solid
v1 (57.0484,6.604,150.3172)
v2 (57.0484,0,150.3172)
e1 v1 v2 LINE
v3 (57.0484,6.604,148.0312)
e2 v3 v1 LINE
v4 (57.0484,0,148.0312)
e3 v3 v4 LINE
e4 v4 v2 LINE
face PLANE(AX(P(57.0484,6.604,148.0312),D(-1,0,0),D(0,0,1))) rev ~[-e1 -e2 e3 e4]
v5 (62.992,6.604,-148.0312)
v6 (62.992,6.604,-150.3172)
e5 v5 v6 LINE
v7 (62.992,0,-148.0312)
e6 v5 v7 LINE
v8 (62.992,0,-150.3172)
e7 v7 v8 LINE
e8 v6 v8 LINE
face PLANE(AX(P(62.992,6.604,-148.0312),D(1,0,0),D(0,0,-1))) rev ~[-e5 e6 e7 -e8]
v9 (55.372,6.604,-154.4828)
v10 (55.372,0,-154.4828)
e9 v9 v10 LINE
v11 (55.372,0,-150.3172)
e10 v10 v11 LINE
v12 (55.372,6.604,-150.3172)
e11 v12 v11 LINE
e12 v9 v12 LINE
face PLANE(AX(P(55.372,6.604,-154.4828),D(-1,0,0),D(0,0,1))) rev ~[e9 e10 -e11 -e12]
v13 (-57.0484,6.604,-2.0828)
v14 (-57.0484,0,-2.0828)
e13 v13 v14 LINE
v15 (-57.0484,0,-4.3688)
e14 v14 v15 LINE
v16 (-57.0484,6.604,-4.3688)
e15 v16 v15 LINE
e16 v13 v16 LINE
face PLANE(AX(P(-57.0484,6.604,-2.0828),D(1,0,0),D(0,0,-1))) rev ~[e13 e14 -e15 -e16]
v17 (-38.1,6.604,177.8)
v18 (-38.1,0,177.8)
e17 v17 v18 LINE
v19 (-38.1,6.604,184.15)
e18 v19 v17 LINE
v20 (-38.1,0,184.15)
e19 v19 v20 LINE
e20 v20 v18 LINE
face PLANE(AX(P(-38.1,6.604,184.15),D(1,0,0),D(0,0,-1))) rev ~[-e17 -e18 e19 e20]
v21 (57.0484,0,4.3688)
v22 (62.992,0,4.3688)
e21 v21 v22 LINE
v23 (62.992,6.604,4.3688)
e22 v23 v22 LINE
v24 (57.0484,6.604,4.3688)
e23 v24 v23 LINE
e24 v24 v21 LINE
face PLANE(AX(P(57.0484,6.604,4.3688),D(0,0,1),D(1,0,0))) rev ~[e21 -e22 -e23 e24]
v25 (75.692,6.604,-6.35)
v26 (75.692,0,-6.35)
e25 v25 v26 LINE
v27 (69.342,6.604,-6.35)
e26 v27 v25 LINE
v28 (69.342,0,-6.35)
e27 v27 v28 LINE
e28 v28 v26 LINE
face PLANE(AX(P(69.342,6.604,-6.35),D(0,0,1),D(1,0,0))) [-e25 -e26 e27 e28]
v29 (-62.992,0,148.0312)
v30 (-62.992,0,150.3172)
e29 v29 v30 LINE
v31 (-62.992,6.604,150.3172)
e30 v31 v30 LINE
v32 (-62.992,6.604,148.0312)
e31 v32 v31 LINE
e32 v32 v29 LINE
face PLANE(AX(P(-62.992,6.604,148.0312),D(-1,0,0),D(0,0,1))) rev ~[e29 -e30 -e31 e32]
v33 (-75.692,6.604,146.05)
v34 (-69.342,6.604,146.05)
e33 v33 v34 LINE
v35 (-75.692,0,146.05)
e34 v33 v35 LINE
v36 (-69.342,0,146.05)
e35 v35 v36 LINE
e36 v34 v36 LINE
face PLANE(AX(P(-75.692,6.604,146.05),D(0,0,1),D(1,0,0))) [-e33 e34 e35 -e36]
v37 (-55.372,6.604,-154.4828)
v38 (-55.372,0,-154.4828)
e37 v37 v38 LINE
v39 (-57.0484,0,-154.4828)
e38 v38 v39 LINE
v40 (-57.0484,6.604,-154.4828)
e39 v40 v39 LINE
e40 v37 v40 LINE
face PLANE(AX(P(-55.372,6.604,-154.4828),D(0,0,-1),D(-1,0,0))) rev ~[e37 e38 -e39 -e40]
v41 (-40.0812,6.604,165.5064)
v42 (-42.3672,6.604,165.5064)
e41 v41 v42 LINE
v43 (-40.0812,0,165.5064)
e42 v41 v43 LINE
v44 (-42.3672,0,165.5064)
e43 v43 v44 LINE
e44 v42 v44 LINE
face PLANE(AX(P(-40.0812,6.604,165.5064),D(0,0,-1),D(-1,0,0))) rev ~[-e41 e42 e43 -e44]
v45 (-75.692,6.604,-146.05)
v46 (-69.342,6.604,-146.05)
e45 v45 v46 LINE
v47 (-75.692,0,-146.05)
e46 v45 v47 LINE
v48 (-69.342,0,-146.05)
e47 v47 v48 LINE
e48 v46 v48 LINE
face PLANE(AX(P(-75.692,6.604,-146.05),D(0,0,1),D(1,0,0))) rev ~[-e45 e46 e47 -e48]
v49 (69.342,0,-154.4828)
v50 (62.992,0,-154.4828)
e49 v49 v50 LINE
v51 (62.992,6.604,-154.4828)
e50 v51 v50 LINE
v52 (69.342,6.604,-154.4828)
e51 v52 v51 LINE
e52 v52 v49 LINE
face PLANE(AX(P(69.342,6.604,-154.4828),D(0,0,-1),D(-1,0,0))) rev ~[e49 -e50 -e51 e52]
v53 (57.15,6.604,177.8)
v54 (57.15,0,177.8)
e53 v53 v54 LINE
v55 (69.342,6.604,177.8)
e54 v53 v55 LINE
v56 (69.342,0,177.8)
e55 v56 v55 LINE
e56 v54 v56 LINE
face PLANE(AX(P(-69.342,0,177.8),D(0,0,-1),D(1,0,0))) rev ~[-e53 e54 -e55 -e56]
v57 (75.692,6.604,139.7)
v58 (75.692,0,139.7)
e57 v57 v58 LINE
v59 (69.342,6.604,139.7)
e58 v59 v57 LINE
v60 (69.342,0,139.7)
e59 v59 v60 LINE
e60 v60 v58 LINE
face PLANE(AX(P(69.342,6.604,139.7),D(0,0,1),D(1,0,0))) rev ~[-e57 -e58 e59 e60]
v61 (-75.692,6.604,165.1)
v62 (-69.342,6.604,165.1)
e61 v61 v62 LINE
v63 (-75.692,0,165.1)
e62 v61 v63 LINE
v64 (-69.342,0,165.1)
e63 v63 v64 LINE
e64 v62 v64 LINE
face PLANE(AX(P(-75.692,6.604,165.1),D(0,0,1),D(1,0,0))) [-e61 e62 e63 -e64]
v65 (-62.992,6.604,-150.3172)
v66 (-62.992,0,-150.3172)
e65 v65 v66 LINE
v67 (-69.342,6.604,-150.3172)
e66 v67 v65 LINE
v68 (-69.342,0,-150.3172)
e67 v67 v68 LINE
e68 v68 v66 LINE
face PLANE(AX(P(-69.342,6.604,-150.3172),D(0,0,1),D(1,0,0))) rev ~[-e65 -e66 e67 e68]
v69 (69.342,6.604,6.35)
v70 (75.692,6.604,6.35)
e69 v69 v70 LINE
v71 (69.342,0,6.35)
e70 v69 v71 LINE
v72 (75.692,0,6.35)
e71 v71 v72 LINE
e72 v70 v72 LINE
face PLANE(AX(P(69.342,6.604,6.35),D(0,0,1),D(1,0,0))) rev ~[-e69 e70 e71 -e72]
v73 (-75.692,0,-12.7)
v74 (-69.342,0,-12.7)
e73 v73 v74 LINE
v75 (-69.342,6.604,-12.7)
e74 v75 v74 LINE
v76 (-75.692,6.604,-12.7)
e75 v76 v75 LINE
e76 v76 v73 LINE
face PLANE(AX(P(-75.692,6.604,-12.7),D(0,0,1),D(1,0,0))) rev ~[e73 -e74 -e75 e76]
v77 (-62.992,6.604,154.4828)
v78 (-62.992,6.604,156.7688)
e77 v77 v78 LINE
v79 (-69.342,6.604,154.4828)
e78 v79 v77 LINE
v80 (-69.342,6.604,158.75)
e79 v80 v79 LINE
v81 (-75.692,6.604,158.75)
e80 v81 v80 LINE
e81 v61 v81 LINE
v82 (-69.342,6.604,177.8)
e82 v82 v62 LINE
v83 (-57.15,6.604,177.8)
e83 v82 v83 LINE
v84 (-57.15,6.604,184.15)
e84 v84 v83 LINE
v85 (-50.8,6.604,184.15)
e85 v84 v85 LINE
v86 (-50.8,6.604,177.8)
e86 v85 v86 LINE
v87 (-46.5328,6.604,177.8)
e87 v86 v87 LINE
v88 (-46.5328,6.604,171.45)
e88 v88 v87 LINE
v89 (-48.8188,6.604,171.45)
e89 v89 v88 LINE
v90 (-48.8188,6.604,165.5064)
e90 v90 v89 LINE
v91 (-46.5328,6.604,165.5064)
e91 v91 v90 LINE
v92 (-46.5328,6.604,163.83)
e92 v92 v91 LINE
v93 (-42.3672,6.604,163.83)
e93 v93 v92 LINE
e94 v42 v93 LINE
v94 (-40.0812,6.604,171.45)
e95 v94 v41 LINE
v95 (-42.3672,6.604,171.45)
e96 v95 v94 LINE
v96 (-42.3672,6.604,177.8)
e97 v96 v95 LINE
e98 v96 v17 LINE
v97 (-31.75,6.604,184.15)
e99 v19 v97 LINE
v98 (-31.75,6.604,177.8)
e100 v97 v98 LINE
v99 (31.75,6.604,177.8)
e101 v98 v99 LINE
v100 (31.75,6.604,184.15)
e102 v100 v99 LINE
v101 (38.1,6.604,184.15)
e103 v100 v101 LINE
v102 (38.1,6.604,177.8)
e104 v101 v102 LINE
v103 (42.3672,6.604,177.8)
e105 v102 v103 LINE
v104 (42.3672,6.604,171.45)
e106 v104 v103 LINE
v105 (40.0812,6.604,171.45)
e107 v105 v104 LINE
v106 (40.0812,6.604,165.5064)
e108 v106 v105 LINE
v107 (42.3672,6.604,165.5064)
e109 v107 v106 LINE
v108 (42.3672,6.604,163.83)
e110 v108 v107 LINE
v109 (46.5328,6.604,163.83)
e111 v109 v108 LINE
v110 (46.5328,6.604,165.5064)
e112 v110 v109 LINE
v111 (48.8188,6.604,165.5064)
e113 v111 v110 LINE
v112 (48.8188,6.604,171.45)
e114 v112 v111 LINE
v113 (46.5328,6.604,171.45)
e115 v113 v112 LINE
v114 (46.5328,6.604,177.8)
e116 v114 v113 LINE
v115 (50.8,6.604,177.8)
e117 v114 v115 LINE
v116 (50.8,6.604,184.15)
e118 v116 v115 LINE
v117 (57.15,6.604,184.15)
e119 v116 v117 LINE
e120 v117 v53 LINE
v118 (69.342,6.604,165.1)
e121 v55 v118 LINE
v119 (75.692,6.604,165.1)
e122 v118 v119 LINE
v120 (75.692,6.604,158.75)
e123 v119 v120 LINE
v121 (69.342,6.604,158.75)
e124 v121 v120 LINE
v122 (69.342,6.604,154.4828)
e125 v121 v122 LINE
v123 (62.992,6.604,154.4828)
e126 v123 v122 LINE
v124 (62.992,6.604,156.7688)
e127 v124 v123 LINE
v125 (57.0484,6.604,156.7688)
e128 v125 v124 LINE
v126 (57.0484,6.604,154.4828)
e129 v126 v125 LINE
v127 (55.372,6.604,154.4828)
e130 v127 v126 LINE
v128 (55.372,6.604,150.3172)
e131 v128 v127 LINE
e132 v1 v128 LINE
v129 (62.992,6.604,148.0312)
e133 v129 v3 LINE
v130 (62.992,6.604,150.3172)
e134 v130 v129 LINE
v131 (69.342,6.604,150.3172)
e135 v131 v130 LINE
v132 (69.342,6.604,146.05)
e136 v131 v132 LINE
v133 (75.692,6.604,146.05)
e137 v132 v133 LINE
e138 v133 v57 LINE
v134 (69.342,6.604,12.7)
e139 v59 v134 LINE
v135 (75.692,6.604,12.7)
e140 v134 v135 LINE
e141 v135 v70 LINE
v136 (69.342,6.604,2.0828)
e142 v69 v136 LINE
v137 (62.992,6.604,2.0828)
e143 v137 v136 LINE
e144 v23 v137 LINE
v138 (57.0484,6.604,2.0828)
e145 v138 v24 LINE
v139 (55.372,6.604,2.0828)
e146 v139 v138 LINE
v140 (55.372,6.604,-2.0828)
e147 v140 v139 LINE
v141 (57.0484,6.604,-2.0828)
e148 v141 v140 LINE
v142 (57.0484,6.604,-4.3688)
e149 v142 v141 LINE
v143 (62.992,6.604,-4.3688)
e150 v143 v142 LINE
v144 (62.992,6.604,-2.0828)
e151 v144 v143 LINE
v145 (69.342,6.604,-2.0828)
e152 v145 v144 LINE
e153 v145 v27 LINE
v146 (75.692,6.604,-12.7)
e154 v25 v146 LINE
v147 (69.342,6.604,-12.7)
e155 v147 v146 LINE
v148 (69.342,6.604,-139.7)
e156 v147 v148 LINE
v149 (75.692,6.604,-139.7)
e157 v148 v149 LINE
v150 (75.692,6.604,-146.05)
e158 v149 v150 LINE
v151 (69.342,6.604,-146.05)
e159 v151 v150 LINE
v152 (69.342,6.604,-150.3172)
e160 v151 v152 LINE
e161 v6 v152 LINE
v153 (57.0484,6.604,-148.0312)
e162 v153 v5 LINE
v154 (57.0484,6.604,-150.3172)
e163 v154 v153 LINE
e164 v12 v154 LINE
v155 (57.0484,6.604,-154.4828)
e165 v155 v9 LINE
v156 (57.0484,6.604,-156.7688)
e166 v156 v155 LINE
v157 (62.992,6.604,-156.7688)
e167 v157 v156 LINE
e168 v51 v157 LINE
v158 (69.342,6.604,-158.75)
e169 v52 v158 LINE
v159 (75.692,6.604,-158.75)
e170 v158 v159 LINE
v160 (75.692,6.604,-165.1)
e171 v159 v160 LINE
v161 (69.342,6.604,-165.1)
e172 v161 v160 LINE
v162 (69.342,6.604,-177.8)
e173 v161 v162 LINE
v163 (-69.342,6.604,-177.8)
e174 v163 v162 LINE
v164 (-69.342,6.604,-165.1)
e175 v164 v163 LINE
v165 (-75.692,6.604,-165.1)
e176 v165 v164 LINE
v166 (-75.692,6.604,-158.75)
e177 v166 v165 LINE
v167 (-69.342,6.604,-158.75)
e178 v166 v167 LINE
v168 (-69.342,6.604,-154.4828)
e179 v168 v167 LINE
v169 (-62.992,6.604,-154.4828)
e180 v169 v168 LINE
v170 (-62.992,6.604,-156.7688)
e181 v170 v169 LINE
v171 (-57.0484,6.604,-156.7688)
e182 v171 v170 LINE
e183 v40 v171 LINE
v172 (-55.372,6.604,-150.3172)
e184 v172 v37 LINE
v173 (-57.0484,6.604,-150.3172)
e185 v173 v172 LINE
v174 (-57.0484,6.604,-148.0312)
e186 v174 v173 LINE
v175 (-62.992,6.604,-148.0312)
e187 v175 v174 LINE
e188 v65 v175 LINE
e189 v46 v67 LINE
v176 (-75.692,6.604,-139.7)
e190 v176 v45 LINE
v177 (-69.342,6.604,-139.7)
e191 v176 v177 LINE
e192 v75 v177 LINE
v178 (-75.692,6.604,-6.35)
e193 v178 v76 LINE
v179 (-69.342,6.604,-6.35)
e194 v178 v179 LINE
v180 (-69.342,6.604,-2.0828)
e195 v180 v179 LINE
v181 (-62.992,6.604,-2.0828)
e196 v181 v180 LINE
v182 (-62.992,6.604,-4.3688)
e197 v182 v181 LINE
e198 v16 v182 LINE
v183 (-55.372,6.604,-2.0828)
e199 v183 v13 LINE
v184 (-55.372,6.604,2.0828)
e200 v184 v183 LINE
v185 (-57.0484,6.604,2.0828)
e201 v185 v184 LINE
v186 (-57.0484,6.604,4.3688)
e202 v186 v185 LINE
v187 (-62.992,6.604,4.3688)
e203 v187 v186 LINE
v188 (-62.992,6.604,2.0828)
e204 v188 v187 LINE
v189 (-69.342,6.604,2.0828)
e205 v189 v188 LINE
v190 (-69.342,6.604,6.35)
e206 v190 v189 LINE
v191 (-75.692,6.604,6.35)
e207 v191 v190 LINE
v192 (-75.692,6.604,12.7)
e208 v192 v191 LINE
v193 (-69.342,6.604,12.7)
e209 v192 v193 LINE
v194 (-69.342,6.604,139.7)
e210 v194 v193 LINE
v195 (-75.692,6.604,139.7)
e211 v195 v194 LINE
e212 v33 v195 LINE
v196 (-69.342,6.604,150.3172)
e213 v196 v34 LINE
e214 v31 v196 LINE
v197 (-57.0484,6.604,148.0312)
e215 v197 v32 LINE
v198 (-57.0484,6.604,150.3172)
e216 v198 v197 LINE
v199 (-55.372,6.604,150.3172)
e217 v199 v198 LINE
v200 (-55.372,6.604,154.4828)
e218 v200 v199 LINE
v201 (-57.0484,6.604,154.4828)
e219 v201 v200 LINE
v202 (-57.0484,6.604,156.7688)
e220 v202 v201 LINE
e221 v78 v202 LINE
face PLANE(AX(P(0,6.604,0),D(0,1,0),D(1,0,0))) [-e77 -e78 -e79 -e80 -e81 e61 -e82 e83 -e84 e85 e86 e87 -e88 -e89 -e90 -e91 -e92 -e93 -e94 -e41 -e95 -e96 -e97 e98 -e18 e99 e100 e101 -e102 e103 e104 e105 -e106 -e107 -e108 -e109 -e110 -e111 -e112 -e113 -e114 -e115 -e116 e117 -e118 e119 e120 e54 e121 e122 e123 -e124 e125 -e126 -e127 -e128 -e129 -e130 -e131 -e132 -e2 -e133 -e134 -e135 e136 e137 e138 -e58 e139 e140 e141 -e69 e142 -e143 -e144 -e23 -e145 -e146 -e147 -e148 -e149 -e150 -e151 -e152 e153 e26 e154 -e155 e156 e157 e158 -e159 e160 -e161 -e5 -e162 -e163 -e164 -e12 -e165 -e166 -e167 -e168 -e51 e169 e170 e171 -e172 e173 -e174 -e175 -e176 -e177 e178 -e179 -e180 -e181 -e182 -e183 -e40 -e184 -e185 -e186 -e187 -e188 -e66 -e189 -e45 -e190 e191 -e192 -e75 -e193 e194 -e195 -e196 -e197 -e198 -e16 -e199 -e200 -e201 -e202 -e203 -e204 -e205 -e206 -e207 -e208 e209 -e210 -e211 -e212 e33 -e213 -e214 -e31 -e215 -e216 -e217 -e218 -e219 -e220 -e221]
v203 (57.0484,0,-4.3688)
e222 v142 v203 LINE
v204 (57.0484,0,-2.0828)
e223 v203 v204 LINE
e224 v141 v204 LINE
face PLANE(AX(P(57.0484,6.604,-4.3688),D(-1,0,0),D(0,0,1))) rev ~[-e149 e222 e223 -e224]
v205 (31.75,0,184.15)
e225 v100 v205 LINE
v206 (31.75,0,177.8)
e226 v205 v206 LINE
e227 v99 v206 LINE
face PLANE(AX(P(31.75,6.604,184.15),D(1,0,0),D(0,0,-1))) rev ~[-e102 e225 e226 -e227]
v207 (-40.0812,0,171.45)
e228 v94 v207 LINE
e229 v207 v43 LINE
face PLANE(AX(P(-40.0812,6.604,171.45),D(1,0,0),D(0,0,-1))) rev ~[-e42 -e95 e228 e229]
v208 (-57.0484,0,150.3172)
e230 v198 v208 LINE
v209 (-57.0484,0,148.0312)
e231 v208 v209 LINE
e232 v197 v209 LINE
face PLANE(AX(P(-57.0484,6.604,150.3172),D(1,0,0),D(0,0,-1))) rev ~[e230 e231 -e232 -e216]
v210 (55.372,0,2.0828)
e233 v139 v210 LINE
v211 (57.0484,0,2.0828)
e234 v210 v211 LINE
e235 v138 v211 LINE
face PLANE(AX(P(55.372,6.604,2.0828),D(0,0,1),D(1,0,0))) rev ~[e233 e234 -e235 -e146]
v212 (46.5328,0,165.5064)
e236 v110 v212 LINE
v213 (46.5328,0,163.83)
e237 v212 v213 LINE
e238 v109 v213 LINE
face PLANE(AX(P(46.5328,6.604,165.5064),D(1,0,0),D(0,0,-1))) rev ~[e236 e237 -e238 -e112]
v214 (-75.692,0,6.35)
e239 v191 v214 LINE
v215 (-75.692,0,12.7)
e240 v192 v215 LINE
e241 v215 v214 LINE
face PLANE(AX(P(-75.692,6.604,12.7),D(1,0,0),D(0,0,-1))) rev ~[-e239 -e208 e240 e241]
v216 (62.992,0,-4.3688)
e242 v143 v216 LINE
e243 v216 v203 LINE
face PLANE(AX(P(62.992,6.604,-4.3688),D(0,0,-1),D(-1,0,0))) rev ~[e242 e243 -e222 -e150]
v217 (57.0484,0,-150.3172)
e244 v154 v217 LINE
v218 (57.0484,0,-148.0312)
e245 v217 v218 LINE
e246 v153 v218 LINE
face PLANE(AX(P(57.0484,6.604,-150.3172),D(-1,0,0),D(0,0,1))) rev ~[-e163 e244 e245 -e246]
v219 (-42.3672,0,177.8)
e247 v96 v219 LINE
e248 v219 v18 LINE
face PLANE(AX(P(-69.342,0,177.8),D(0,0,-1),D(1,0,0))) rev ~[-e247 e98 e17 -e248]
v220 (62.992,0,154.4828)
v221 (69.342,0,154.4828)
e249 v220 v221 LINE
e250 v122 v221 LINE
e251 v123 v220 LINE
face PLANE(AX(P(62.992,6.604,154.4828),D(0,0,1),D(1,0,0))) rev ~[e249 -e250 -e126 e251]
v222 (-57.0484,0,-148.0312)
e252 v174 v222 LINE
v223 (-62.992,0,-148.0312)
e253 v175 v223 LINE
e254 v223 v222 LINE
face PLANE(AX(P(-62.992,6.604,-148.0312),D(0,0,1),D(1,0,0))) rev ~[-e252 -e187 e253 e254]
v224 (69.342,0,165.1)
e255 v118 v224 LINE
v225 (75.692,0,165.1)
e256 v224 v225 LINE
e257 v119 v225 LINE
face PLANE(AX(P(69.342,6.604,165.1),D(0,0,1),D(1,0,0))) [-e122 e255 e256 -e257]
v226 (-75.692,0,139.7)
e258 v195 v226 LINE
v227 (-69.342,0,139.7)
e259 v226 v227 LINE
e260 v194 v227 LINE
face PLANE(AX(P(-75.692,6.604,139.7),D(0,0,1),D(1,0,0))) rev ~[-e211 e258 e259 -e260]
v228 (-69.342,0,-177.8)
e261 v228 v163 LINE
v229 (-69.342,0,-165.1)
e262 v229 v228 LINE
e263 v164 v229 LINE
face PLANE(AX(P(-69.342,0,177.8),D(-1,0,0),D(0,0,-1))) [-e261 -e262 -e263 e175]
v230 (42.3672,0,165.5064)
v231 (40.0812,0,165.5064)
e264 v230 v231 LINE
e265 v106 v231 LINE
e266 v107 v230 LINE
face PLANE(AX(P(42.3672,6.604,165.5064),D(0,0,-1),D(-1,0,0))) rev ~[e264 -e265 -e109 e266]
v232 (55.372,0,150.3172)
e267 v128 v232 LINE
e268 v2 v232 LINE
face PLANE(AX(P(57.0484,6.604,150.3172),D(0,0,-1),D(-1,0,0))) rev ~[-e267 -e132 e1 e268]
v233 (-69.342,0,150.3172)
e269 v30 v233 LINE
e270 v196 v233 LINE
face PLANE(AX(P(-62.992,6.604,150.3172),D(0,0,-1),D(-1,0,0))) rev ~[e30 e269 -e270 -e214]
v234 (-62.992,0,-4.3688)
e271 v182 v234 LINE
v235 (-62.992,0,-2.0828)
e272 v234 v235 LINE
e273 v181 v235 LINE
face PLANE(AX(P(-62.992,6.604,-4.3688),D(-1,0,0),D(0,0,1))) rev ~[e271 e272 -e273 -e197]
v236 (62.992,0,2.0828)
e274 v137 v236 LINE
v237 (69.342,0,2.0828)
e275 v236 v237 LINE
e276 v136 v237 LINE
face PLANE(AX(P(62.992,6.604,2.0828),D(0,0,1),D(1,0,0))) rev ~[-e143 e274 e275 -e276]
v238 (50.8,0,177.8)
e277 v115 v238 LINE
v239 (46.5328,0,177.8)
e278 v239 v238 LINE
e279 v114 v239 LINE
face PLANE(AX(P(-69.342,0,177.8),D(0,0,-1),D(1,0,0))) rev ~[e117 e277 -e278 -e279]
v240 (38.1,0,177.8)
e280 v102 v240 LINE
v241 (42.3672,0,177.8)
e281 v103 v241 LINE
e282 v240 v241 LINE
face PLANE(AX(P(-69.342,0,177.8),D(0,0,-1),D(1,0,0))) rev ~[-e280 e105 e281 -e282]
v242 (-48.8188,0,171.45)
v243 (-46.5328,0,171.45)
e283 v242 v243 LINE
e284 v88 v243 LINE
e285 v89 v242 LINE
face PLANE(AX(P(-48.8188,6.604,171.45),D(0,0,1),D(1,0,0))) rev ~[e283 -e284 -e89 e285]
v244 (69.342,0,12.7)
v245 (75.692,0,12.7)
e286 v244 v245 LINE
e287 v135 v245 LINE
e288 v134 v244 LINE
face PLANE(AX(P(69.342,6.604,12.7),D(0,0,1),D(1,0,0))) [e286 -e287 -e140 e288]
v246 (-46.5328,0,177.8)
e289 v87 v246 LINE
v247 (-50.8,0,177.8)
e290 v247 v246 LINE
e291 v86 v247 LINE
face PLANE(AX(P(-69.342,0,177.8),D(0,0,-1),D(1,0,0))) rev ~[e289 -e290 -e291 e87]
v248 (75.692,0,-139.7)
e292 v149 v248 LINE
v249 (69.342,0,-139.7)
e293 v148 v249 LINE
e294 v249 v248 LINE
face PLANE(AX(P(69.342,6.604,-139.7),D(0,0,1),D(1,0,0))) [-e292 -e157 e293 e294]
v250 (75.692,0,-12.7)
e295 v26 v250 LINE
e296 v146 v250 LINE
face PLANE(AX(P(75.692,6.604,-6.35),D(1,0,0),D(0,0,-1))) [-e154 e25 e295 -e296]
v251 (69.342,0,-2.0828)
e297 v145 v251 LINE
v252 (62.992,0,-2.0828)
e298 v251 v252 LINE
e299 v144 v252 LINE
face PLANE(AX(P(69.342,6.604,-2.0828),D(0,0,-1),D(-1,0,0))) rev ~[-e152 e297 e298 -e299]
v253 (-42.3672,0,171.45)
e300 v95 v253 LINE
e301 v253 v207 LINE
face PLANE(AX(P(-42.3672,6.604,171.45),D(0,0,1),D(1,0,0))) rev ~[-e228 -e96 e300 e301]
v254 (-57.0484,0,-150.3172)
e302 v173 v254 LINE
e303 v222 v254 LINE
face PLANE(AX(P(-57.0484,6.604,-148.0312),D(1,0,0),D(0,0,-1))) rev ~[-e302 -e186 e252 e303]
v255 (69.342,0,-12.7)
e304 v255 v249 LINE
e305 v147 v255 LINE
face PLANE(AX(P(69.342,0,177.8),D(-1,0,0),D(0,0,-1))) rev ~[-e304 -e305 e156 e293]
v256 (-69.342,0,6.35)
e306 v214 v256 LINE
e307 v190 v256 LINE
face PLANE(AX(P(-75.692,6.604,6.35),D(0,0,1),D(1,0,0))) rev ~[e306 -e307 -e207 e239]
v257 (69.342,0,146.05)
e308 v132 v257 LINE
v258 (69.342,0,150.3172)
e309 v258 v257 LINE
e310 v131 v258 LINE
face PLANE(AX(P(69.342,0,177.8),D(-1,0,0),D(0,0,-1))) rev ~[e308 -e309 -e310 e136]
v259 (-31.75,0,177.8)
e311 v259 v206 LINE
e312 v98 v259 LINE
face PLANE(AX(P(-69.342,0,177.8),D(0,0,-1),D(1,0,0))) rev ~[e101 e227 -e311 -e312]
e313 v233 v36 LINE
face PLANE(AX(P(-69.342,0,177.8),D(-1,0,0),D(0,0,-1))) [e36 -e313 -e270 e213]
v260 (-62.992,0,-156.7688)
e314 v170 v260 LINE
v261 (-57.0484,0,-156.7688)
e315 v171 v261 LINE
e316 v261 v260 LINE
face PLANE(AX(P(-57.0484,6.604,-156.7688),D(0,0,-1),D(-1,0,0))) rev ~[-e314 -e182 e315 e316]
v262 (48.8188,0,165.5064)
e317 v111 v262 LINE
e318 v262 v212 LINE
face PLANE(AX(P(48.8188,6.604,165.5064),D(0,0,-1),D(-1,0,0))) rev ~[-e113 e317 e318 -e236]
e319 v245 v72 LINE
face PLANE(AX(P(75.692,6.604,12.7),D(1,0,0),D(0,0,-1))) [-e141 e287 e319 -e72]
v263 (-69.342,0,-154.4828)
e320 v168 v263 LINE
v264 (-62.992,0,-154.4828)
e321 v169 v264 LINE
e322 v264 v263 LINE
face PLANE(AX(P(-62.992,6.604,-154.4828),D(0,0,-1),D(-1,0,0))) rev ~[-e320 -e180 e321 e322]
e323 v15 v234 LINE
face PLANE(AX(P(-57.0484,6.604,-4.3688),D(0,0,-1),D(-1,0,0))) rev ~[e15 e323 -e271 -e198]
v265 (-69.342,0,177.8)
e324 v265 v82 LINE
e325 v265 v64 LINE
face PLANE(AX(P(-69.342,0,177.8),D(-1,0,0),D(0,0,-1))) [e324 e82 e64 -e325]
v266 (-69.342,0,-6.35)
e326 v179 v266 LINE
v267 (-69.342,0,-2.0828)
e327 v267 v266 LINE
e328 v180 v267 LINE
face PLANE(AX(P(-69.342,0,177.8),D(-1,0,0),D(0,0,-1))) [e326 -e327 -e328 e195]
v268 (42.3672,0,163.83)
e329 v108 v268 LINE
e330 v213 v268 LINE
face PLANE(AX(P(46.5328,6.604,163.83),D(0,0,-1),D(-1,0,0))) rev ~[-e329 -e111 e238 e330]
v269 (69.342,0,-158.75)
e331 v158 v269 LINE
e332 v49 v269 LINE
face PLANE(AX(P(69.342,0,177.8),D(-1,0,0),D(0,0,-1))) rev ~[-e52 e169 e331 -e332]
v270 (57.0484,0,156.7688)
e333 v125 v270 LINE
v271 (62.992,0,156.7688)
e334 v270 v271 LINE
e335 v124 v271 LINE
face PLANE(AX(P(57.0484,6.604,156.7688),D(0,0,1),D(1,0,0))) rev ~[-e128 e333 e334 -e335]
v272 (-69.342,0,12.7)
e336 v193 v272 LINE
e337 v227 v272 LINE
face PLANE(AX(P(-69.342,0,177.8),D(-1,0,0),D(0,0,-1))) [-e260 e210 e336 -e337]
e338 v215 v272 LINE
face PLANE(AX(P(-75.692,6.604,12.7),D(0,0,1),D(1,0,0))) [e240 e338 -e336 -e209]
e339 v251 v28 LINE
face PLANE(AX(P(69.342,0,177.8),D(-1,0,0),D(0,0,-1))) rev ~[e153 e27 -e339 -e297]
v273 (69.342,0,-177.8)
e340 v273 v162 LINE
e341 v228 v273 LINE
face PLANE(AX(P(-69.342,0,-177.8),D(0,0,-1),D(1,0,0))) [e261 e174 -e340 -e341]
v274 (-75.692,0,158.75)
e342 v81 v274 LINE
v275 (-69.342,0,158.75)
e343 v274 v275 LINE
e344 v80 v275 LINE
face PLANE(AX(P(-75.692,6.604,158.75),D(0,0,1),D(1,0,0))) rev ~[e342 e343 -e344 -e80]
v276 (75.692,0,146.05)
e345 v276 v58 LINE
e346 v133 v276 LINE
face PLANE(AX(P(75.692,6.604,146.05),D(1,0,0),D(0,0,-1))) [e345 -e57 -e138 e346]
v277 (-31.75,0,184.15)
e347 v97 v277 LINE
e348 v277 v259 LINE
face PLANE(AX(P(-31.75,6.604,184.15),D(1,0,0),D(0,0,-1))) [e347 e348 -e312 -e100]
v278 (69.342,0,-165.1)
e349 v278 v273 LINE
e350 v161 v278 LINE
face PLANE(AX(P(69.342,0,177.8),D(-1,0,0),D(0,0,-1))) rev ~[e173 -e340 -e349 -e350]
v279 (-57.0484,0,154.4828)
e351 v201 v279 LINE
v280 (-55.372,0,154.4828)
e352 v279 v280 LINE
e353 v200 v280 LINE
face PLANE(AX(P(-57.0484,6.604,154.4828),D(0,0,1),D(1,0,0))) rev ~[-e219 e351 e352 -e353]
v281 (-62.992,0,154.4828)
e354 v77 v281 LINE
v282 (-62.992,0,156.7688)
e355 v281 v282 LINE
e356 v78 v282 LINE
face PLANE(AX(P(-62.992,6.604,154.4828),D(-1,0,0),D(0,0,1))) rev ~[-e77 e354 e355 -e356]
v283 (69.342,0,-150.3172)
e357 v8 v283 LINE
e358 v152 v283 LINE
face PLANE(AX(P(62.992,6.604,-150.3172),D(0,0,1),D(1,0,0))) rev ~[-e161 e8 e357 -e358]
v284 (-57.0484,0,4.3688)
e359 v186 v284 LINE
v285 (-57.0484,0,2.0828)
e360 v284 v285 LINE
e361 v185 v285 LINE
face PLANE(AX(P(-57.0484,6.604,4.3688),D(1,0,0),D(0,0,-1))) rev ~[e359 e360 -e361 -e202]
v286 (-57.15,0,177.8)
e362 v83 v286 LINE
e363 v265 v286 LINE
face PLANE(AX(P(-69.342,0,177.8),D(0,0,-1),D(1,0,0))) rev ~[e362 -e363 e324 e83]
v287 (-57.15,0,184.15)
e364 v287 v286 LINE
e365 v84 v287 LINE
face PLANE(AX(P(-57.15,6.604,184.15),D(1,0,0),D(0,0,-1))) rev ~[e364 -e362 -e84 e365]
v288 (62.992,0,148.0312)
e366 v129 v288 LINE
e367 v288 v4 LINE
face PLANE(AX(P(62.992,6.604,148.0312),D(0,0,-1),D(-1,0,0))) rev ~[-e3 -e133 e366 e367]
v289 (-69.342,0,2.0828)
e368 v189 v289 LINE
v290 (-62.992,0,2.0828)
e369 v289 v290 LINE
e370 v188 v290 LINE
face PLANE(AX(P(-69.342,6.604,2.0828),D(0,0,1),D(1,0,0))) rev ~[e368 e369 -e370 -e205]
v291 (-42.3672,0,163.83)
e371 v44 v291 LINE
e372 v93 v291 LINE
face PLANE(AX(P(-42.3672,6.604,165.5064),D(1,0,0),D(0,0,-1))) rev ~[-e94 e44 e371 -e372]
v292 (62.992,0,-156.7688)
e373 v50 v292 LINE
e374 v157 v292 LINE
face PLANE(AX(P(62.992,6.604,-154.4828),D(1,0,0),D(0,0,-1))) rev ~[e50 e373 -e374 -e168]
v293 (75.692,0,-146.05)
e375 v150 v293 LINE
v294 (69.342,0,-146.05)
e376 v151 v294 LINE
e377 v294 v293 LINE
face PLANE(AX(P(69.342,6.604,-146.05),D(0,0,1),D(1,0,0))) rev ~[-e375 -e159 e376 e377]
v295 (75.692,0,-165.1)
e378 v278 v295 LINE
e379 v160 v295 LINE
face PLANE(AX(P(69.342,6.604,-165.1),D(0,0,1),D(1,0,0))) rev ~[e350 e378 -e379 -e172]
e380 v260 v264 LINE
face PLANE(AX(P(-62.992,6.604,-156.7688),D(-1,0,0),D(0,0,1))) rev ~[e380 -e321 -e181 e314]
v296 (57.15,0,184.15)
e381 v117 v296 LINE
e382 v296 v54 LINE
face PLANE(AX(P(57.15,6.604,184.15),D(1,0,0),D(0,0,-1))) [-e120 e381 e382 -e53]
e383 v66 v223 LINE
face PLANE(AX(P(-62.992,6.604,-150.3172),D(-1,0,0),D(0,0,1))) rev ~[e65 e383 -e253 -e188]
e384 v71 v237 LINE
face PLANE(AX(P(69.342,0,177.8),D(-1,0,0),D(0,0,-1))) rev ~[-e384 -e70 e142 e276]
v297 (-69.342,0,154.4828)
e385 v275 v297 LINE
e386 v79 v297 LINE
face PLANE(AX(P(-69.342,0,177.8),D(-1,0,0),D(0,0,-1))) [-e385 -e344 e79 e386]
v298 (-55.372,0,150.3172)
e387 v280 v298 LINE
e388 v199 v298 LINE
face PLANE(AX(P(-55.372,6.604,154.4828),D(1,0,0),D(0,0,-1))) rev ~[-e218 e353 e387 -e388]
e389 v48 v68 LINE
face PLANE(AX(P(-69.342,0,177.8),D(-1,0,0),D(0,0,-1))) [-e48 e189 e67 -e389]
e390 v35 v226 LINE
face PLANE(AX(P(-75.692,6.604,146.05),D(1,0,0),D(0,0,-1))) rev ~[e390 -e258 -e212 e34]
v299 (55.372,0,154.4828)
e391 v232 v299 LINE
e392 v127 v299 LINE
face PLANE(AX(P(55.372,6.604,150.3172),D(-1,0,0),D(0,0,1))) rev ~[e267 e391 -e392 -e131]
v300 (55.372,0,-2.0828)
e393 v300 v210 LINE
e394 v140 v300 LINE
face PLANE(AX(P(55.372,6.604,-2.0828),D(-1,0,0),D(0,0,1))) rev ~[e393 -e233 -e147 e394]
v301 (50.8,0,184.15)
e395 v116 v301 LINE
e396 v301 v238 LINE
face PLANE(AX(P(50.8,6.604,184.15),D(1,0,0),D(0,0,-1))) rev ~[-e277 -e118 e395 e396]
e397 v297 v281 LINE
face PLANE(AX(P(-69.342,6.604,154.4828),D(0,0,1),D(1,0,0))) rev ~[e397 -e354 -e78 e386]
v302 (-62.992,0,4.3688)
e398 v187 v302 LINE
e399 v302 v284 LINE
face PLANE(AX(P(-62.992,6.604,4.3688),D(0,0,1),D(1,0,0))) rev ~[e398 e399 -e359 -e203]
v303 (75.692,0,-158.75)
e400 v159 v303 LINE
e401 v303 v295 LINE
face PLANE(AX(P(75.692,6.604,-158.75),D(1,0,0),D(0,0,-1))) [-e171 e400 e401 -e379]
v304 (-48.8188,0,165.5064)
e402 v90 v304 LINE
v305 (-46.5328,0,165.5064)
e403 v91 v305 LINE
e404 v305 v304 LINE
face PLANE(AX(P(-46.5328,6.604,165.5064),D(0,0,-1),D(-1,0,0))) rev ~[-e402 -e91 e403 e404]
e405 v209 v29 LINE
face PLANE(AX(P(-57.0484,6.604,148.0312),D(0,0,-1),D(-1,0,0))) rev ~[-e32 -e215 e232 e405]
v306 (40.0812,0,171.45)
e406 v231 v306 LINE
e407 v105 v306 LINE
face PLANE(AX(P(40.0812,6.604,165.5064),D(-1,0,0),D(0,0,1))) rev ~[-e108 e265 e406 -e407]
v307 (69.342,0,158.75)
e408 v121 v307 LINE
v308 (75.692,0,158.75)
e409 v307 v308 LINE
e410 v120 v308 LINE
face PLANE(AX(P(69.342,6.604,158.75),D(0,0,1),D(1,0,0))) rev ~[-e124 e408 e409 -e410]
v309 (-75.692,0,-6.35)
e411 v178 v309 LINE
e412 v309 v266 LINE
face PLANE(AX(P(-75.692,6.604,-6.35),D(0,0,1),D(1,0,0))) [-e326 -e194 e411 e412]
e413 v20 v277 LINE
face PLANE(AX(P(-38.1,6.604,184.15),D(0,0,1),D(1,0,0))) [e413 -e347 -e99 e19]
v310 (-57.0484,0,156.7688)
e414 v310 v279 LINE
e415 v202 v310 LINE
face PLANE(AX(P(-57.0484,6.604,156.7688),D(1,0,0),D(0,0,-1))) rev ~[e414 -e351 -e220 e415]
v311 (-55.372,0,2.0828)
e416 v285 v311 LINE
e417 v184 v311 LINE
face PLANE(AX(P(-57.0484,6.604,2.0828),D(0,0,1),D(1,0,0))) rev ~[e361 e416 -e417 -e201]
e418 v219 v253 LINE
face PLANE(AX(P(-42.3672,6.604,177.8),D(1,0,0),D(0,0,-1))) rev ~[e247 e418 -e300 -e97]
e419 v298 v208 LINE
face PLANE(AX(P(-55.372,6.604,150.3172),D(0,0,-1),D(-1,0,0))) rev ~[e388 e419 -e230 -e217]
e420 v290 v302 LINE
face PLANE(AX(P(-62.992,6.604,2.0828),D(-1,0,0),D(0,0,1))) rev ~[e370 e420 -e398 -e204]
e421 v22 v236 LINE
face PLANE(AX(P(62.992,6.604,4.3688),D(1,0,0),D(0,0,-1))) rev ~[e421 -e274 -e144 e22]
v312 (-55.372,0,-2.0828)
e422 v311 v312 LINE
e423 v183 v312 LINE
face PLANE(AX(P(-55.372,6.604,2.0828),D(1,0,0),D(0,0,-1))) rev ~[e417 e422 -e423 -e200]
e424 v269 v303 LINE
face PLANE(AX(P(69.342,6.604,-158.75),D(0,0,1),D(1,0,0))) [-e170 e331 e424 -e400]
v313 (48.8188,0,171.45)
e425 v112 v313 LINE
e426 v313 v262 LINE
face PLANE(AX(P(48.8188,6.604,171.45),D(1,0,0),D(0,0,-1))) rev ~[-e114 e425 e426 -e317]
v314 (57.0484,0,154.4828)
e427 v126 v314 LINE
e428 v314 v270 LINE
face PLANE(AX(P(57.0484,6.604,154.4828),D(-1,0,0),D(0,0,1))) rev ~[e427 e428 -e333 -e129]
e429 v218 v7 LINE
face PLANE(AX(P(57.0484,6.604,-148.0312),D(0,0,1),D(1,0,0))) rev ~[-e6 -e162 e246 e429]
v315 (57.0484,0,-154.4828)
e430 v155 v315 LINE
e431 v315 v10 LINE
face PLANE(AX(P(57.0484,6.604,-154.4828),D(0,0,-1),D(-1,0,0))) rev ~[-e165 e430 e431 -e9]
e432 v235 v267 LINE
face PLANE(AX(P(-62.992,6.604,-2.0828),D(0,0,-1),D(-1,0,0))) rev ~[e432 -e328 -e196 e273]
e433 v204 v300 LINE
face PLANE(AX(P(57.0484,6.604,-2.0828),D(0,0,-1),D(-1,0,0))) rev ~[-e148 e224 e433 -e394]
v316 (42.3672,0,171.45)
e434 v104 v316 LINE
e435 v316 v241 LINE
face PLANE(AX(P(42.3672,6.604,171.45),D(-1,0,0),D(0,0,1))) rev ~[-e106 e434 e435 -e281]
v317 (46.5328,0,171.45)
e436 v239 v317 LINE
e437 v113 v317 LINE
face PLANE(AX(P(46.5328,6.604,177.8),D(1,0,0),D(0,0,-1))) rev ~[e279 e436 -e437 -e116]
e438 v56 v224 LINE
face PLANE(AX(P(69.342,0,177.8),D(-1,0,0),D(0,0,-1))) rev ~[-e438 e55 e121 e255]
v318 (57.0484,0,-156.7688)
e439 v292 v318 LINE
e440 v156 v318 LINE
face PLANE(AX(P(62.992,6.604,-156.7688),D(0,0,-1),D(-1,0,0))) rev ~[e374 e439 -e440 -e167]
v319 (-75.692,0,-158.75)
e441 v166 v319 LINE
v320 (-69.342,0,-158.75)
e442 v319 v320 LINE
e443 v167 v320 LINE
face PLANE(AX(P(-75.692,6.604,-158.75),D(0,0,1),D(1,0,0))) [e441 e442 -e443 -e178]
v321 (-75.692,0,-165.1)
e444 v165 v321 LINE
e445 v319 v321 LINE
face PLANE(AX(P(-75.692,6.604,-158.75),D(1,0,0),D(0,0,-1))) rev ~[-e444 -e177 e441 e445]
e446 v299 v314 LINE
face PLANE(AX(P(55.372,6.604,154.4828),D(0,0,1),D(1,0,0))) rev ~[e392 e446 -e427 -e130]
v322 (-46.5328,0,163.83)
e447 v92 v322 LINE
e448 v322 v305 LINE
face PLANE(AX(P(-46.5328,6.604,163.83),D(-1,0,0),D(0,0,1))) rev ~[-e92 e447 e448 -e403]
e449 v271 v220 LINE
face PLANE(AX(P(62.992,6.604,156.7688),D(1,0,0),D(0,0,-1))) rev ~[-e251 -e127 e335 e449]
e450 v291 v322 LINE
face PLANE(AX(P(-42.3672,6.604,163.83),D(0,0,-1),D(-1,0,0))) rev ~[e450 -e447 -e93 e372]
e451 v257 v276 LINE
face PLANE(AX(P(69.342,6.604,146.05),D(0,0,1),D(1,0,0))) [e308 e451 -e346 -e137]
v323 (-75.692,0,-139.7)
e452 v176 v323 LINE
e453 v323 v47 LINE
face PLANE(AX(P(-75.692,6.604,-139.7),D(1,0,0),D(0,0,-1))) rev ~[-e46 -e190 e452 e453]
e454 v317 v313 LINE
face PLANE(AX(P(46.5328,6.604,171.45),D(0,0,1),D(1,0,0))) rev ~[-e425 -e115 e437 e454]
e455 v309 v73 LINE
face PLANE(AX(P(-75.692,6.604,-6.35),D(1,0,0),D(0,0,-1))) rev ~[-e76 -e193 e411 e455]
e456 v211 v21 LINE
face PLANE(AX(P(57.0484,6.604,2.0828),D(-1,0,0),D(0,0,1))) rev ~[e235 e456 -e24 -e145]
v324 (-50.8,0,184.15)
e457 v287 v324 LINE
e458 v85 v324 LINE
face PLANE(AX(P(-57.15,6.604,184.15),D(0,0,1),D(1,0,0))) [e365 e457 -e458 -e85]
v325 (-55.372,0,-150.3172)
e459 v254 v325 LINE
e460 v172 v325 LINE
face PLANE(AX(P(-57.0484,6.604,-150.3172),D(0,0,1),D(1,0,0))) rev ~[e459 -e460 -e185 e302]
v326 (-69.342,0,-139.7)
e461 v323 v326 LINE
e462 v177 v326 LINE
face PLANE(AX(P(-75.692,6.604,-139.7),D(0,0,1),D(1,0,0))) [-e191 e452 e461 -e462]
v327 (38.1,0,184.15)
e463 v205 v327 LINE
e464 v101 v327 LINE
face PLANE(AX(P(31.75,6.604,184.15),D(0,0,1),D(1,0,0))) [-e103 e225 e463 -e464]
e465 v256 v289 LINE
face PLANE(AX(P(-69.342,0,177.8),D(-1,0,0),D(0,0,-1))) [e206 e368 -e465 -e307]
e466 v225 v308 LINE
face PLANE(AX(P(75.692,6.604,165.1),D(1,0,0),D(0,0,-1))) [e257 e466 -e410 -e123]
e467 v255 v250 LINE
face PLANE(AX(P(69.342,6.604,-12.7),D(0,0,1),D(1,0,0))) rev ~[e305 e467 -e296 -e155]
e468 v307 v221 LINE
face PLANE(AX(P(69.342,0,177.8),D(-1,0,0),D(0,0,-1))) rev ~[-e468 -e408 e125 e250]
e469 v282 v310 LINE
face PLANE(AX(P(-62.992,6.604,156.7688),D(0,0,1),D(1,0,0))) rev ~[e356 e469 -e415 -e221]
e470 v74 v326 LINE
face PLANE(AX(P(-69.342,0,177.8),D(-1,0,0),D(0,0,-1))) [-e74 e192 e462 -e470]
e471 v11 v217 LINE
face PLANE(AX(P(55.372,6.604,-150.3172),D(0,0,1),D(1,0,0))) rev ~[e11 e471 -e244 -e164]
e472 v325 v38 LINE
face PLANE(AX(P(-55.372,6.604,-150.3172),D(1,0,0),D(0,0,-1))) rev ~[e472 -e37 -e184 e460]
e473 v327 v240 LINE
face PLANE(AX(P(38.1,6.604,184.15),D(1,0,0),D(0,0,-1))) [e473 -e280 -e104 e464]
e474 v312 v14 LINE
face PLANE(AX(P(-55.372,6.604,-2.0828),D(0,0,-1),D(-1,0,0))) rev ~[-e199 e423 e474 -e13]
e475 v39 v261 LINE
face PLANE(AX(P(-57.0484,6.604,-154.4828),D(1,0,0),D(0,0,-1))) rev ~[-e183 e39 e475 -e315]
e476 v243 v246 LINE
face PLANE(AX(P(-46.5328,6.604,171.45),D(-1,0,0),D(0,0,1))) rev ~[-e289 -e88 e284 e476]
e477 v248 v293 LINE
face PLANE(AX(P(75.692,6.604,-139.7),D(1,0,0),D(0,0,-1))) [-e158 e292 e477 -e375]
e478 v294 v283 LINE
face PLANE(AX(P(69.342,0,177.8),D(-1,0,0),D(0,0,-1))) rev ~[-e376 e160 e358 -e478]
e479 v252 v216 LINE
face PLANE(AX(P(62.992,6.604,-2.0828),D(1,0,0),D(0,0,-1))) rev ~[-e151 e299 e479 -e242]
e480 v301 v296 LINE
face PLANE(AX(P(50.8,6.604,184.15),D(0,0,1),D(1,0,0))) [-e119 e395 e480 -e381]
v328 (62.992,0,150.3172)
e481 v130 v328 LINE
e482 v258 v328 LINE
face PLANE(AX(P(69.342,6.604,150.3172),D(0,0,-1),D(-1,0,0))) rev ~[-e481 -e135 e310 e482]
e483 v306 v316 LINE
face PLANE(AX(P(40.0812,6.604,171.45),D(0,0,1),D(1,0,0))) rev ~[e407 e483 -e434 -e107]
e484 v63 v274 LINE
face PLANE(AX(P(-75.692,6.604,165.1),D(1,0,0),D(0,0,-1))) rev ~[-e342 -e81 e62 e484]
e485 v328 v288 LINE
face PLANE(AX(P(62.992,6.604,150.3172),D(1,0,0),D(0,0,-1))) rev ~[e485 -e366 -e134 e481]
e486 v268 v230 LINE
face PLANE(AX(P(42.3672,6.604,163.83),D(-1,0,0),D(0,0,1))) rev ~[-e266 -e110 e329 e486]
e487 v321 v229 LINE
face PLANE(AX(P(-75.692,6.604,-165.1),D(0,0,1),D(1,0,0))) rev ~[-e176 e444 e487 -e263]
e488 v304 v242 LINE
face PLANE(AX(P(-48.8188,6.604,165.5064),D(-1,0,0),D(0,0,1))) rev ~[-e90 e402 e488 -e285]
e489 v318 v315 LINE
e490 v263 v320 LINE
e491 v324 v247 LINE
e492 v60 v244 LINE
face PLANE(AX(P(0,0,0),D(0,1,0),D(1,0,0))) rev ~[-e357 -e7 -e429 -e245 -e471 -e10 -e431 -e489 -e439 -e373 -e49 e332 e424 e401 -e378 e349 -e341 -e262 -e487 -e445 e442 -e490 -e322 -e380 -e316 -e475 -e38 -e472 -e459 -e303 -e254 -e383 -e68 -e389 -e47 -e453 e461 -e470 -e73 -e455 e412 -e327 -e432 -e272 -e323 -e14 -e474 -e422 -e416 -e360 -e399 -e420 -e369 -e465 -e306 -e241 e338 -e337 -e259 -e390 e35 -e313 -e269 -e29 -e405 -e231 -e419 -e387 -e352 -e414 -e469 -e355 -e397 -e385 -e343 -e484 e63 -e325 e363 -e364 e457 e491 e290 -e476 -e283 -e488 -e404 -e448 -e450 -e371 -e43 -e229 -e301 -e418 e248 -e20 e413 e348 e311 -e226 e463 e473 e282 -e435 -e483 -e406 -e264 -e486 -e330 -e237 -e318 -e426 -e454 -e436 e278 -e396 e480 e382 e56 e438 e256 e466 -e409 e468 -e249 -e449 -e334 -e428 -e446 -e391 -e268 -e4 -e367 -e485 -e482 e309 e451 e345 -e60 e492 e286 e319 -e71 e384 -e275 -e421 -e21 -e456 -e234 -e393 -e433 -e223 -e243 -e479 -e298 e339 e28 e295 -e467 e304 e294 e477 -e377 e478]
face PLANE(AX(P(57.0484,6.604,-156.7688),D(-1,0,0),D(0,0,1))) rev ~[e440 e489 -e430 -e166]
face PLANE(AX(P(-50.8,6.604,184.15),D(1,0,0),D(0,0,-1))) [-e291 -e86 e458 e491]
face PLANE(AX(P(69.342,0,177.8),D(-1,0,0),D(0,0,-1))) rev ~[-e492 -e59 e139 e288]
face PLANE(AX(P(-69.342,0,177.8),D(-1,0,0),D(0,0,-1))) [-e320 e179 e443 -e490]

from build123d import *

# Parameters (mm, degrees)
SKETCH1_W           = 138.684
SKETCH1_H           = 355.6
BOSS_EXTRUDE1_DEPTH = 6.604
CUT_EXTRUDE1_DEPTH  = 7.604
SKETCH5_W           = 6.35
SKETCH5_H           = 6.35
BOSS_EXTRUDE2_DEPTH = 6.604


with BuildPart() as part:
    # Sketch1 → Boss-Extrude1 (new body)
    with BuildSketch(Plane(origin=(0, 0, 0), x_dir=(1, 0, 0), z_dir=(0, 1, 0))):
        Rectangle(SKETCH1_W, SKETCH1_H)
    extrude(amount=BOSS_EXTRUDE1_DEPTH)

    # Sketch4 → Cut-Extrude1 (cut, through all)
    with BuildSketch(Plane(origin=(0, 6.604, 0), x_dir=(1, 0, 0), z_dir=(0, 1, 0))):
        Polygon((-62.992, 154.4828), (-69.342, 154.4828), (-69.342, 150.3172), (-62.992, 150.3172), (-62.992, 148.0312), (-57.0484, 148.0312), (-57.0484, 150.3172), (-55.372, 150.3172), (-55.372, 154.4828), (-57.0484, 154.4828), (-57.0484, 156.7688), (-62.992, 156.7688), align=None)
        Polygon((57.0484, 154.4828), (55.372, 154.4828), (55.372, 150.3172), (57.0484, 150.3172), (57.0484, 148.0312), (62.992, 148.0312), (62.992, 150.3172), (69.342, 150.3172), (69.342, 154.4828), (62.992, 154.4828), (62.992, 156.7688), (57.0484, 156.7688), align=None)
        Polygon((-62.992, 2.0828), (-69.342, 2.0828), (-69.342, -2.0828), (-62.992, -2.0828), (-62.992, -4.3688), (-57.0484, -4.3688), (-57.0484, -2.0828), (-55.372, -2.0828), (-55.372, 2.0828), (-57.0484, 2.0828), (-57.0484, 4.3688), (-62.992, 4.3688), align=None)
        Polygon((69.342, 2.0828), (62.992, 2.0828), (62.992, 4.3688), (57.0484, 4.3688), (57.0484, 2.0828), (55.372, 2.0828), (55.372, -2.0828), (57.0484, -2.0828), (57.0484, -4.3688), (62.992, -4.3688), (62.992, -2.0828), (69.342, -2.0828), align=None)
        Polygon((-62.992, -150.3172), (-69.342, -150.3172), (-69.342, -154.4828), (-62.992, -154.4828), (-62.992, -156.7688), (-57.0484, -156.7688), (-57.0484, -154.4828), (-55.372, -154.4828), (-55.372, -150.3172), (-57.0484, -150.3172), (-57.0484, -148.0312), (-62.992, -148.0312), align=None)
        Polygon((69.342, -150.3172), (62.992, -150.3172), (62.992, -148.0312), (57.0484, -148.0312), (57.0484, -150.3172), (55.372, -150.3172), (55.372, -154.4828), (57.0484, -154.4828), (57.0484, -156.7688), (62.992, -156.7688), (62.992, -154.4828), (69.342, -154.4828), align=None)
        Polygon((-46.5328, -165.5064), (-48.8188, -165.5064), (-48.8188, -171.45), (-46.5328, -171.45), (-46.5328, -177.8), (-42.3672, -177.8), (-42.3672, -171.45), (-40.0812, -171.45), (-40.0812, -165.5064), (-42.3672, -165.5064), (-42.3672, -163.83), (-46.5328, -163.83), align=None)
        Polygon((48.8188, -165.5064), (46.5328, -165.5064), (46.5328, -163.83), (42.3672, -163.83), (42.3672, -165.5064), (40.0812, -165.5064), (40.0812, -171.45), (42.3672, -171.45), (42.3672, -177.8), (46.5328, -177.8), (46.5328, -171.45), (48.8188, -171.45), align=None)
    extrude(amount=-CUT_EXTRUDE1_DEPTH, mode=Mode.SUBTRACT)

    # Sketch5 → Boss-Extrude2 (add)
    with BuildSketch(Plane(origin=(0, 6.604, 0), x_dir=(1, 0, 0), z_dir=(0, 1, 0))):
        with Locations((-72.517, 161.925)):
            Rectangle(SKETCH5_W, SKETCH5_H)
        with Locations((-72.517, 142.875)):
            Rectangle(SKETCH5_W, SKETCH5_H)
        with Locations((72.517, 161.925)):
            Rectangle(SKETCH5_W, SKETCH5_H)
        with Locations((72.517, 142.875)):
            Rectangle(SKETCH5_W, SKETCH5_H)
        with Locations((-72.517, 9.525)):
            Rectangle(SKETCH5_W, SKETCH5_H)
        with Locations((-72.517, -9.525)):
            Rectangle(SKETCH5_W, SKETCH5_H)
        with Locations((-72.517, -142.875)):
            Rectangle(SKETCH5_W, SKETCH5_H)
        with Locations((-72.517, -161.925)):
            Rectangle(SKETCH5_W, SKETCH5_H)
        with Locations((72.517, -161.925)):
            Rectangle(SKETCH5_W, SKETCH5_H)
        with Locations((72.517, -142.875)):
            Rectangle(SKETCH5_W, SKETCH5_H)
        with Locations((72.517, -9.525)):
            Rectangle(SKETCH5_W, SKETCH5_H)
        with Locations((72.517, 9.525)):
            Rectangle(SKETCH5_W, SKETCH5_H)
        with Locations((-53.975, -180.975)):
            Rectangle(SKETCH5_W, SKETCH5_H)
        with Locations((-34.925, -180.975)):
            Rectangle(SKETCH5_W, SKETCH5_H)
        with Locations((34.925, -180.975)):
            Rectangle(SKETCH5_W, SKETCH5_H)
        with Locations((53.975, -180.975)):
            Rectangle(SKETCH5_W, SKETCH5_H)
    extrude(amount=-BOSS_EXTRUDE2_DEPTH)


solid = part.part
